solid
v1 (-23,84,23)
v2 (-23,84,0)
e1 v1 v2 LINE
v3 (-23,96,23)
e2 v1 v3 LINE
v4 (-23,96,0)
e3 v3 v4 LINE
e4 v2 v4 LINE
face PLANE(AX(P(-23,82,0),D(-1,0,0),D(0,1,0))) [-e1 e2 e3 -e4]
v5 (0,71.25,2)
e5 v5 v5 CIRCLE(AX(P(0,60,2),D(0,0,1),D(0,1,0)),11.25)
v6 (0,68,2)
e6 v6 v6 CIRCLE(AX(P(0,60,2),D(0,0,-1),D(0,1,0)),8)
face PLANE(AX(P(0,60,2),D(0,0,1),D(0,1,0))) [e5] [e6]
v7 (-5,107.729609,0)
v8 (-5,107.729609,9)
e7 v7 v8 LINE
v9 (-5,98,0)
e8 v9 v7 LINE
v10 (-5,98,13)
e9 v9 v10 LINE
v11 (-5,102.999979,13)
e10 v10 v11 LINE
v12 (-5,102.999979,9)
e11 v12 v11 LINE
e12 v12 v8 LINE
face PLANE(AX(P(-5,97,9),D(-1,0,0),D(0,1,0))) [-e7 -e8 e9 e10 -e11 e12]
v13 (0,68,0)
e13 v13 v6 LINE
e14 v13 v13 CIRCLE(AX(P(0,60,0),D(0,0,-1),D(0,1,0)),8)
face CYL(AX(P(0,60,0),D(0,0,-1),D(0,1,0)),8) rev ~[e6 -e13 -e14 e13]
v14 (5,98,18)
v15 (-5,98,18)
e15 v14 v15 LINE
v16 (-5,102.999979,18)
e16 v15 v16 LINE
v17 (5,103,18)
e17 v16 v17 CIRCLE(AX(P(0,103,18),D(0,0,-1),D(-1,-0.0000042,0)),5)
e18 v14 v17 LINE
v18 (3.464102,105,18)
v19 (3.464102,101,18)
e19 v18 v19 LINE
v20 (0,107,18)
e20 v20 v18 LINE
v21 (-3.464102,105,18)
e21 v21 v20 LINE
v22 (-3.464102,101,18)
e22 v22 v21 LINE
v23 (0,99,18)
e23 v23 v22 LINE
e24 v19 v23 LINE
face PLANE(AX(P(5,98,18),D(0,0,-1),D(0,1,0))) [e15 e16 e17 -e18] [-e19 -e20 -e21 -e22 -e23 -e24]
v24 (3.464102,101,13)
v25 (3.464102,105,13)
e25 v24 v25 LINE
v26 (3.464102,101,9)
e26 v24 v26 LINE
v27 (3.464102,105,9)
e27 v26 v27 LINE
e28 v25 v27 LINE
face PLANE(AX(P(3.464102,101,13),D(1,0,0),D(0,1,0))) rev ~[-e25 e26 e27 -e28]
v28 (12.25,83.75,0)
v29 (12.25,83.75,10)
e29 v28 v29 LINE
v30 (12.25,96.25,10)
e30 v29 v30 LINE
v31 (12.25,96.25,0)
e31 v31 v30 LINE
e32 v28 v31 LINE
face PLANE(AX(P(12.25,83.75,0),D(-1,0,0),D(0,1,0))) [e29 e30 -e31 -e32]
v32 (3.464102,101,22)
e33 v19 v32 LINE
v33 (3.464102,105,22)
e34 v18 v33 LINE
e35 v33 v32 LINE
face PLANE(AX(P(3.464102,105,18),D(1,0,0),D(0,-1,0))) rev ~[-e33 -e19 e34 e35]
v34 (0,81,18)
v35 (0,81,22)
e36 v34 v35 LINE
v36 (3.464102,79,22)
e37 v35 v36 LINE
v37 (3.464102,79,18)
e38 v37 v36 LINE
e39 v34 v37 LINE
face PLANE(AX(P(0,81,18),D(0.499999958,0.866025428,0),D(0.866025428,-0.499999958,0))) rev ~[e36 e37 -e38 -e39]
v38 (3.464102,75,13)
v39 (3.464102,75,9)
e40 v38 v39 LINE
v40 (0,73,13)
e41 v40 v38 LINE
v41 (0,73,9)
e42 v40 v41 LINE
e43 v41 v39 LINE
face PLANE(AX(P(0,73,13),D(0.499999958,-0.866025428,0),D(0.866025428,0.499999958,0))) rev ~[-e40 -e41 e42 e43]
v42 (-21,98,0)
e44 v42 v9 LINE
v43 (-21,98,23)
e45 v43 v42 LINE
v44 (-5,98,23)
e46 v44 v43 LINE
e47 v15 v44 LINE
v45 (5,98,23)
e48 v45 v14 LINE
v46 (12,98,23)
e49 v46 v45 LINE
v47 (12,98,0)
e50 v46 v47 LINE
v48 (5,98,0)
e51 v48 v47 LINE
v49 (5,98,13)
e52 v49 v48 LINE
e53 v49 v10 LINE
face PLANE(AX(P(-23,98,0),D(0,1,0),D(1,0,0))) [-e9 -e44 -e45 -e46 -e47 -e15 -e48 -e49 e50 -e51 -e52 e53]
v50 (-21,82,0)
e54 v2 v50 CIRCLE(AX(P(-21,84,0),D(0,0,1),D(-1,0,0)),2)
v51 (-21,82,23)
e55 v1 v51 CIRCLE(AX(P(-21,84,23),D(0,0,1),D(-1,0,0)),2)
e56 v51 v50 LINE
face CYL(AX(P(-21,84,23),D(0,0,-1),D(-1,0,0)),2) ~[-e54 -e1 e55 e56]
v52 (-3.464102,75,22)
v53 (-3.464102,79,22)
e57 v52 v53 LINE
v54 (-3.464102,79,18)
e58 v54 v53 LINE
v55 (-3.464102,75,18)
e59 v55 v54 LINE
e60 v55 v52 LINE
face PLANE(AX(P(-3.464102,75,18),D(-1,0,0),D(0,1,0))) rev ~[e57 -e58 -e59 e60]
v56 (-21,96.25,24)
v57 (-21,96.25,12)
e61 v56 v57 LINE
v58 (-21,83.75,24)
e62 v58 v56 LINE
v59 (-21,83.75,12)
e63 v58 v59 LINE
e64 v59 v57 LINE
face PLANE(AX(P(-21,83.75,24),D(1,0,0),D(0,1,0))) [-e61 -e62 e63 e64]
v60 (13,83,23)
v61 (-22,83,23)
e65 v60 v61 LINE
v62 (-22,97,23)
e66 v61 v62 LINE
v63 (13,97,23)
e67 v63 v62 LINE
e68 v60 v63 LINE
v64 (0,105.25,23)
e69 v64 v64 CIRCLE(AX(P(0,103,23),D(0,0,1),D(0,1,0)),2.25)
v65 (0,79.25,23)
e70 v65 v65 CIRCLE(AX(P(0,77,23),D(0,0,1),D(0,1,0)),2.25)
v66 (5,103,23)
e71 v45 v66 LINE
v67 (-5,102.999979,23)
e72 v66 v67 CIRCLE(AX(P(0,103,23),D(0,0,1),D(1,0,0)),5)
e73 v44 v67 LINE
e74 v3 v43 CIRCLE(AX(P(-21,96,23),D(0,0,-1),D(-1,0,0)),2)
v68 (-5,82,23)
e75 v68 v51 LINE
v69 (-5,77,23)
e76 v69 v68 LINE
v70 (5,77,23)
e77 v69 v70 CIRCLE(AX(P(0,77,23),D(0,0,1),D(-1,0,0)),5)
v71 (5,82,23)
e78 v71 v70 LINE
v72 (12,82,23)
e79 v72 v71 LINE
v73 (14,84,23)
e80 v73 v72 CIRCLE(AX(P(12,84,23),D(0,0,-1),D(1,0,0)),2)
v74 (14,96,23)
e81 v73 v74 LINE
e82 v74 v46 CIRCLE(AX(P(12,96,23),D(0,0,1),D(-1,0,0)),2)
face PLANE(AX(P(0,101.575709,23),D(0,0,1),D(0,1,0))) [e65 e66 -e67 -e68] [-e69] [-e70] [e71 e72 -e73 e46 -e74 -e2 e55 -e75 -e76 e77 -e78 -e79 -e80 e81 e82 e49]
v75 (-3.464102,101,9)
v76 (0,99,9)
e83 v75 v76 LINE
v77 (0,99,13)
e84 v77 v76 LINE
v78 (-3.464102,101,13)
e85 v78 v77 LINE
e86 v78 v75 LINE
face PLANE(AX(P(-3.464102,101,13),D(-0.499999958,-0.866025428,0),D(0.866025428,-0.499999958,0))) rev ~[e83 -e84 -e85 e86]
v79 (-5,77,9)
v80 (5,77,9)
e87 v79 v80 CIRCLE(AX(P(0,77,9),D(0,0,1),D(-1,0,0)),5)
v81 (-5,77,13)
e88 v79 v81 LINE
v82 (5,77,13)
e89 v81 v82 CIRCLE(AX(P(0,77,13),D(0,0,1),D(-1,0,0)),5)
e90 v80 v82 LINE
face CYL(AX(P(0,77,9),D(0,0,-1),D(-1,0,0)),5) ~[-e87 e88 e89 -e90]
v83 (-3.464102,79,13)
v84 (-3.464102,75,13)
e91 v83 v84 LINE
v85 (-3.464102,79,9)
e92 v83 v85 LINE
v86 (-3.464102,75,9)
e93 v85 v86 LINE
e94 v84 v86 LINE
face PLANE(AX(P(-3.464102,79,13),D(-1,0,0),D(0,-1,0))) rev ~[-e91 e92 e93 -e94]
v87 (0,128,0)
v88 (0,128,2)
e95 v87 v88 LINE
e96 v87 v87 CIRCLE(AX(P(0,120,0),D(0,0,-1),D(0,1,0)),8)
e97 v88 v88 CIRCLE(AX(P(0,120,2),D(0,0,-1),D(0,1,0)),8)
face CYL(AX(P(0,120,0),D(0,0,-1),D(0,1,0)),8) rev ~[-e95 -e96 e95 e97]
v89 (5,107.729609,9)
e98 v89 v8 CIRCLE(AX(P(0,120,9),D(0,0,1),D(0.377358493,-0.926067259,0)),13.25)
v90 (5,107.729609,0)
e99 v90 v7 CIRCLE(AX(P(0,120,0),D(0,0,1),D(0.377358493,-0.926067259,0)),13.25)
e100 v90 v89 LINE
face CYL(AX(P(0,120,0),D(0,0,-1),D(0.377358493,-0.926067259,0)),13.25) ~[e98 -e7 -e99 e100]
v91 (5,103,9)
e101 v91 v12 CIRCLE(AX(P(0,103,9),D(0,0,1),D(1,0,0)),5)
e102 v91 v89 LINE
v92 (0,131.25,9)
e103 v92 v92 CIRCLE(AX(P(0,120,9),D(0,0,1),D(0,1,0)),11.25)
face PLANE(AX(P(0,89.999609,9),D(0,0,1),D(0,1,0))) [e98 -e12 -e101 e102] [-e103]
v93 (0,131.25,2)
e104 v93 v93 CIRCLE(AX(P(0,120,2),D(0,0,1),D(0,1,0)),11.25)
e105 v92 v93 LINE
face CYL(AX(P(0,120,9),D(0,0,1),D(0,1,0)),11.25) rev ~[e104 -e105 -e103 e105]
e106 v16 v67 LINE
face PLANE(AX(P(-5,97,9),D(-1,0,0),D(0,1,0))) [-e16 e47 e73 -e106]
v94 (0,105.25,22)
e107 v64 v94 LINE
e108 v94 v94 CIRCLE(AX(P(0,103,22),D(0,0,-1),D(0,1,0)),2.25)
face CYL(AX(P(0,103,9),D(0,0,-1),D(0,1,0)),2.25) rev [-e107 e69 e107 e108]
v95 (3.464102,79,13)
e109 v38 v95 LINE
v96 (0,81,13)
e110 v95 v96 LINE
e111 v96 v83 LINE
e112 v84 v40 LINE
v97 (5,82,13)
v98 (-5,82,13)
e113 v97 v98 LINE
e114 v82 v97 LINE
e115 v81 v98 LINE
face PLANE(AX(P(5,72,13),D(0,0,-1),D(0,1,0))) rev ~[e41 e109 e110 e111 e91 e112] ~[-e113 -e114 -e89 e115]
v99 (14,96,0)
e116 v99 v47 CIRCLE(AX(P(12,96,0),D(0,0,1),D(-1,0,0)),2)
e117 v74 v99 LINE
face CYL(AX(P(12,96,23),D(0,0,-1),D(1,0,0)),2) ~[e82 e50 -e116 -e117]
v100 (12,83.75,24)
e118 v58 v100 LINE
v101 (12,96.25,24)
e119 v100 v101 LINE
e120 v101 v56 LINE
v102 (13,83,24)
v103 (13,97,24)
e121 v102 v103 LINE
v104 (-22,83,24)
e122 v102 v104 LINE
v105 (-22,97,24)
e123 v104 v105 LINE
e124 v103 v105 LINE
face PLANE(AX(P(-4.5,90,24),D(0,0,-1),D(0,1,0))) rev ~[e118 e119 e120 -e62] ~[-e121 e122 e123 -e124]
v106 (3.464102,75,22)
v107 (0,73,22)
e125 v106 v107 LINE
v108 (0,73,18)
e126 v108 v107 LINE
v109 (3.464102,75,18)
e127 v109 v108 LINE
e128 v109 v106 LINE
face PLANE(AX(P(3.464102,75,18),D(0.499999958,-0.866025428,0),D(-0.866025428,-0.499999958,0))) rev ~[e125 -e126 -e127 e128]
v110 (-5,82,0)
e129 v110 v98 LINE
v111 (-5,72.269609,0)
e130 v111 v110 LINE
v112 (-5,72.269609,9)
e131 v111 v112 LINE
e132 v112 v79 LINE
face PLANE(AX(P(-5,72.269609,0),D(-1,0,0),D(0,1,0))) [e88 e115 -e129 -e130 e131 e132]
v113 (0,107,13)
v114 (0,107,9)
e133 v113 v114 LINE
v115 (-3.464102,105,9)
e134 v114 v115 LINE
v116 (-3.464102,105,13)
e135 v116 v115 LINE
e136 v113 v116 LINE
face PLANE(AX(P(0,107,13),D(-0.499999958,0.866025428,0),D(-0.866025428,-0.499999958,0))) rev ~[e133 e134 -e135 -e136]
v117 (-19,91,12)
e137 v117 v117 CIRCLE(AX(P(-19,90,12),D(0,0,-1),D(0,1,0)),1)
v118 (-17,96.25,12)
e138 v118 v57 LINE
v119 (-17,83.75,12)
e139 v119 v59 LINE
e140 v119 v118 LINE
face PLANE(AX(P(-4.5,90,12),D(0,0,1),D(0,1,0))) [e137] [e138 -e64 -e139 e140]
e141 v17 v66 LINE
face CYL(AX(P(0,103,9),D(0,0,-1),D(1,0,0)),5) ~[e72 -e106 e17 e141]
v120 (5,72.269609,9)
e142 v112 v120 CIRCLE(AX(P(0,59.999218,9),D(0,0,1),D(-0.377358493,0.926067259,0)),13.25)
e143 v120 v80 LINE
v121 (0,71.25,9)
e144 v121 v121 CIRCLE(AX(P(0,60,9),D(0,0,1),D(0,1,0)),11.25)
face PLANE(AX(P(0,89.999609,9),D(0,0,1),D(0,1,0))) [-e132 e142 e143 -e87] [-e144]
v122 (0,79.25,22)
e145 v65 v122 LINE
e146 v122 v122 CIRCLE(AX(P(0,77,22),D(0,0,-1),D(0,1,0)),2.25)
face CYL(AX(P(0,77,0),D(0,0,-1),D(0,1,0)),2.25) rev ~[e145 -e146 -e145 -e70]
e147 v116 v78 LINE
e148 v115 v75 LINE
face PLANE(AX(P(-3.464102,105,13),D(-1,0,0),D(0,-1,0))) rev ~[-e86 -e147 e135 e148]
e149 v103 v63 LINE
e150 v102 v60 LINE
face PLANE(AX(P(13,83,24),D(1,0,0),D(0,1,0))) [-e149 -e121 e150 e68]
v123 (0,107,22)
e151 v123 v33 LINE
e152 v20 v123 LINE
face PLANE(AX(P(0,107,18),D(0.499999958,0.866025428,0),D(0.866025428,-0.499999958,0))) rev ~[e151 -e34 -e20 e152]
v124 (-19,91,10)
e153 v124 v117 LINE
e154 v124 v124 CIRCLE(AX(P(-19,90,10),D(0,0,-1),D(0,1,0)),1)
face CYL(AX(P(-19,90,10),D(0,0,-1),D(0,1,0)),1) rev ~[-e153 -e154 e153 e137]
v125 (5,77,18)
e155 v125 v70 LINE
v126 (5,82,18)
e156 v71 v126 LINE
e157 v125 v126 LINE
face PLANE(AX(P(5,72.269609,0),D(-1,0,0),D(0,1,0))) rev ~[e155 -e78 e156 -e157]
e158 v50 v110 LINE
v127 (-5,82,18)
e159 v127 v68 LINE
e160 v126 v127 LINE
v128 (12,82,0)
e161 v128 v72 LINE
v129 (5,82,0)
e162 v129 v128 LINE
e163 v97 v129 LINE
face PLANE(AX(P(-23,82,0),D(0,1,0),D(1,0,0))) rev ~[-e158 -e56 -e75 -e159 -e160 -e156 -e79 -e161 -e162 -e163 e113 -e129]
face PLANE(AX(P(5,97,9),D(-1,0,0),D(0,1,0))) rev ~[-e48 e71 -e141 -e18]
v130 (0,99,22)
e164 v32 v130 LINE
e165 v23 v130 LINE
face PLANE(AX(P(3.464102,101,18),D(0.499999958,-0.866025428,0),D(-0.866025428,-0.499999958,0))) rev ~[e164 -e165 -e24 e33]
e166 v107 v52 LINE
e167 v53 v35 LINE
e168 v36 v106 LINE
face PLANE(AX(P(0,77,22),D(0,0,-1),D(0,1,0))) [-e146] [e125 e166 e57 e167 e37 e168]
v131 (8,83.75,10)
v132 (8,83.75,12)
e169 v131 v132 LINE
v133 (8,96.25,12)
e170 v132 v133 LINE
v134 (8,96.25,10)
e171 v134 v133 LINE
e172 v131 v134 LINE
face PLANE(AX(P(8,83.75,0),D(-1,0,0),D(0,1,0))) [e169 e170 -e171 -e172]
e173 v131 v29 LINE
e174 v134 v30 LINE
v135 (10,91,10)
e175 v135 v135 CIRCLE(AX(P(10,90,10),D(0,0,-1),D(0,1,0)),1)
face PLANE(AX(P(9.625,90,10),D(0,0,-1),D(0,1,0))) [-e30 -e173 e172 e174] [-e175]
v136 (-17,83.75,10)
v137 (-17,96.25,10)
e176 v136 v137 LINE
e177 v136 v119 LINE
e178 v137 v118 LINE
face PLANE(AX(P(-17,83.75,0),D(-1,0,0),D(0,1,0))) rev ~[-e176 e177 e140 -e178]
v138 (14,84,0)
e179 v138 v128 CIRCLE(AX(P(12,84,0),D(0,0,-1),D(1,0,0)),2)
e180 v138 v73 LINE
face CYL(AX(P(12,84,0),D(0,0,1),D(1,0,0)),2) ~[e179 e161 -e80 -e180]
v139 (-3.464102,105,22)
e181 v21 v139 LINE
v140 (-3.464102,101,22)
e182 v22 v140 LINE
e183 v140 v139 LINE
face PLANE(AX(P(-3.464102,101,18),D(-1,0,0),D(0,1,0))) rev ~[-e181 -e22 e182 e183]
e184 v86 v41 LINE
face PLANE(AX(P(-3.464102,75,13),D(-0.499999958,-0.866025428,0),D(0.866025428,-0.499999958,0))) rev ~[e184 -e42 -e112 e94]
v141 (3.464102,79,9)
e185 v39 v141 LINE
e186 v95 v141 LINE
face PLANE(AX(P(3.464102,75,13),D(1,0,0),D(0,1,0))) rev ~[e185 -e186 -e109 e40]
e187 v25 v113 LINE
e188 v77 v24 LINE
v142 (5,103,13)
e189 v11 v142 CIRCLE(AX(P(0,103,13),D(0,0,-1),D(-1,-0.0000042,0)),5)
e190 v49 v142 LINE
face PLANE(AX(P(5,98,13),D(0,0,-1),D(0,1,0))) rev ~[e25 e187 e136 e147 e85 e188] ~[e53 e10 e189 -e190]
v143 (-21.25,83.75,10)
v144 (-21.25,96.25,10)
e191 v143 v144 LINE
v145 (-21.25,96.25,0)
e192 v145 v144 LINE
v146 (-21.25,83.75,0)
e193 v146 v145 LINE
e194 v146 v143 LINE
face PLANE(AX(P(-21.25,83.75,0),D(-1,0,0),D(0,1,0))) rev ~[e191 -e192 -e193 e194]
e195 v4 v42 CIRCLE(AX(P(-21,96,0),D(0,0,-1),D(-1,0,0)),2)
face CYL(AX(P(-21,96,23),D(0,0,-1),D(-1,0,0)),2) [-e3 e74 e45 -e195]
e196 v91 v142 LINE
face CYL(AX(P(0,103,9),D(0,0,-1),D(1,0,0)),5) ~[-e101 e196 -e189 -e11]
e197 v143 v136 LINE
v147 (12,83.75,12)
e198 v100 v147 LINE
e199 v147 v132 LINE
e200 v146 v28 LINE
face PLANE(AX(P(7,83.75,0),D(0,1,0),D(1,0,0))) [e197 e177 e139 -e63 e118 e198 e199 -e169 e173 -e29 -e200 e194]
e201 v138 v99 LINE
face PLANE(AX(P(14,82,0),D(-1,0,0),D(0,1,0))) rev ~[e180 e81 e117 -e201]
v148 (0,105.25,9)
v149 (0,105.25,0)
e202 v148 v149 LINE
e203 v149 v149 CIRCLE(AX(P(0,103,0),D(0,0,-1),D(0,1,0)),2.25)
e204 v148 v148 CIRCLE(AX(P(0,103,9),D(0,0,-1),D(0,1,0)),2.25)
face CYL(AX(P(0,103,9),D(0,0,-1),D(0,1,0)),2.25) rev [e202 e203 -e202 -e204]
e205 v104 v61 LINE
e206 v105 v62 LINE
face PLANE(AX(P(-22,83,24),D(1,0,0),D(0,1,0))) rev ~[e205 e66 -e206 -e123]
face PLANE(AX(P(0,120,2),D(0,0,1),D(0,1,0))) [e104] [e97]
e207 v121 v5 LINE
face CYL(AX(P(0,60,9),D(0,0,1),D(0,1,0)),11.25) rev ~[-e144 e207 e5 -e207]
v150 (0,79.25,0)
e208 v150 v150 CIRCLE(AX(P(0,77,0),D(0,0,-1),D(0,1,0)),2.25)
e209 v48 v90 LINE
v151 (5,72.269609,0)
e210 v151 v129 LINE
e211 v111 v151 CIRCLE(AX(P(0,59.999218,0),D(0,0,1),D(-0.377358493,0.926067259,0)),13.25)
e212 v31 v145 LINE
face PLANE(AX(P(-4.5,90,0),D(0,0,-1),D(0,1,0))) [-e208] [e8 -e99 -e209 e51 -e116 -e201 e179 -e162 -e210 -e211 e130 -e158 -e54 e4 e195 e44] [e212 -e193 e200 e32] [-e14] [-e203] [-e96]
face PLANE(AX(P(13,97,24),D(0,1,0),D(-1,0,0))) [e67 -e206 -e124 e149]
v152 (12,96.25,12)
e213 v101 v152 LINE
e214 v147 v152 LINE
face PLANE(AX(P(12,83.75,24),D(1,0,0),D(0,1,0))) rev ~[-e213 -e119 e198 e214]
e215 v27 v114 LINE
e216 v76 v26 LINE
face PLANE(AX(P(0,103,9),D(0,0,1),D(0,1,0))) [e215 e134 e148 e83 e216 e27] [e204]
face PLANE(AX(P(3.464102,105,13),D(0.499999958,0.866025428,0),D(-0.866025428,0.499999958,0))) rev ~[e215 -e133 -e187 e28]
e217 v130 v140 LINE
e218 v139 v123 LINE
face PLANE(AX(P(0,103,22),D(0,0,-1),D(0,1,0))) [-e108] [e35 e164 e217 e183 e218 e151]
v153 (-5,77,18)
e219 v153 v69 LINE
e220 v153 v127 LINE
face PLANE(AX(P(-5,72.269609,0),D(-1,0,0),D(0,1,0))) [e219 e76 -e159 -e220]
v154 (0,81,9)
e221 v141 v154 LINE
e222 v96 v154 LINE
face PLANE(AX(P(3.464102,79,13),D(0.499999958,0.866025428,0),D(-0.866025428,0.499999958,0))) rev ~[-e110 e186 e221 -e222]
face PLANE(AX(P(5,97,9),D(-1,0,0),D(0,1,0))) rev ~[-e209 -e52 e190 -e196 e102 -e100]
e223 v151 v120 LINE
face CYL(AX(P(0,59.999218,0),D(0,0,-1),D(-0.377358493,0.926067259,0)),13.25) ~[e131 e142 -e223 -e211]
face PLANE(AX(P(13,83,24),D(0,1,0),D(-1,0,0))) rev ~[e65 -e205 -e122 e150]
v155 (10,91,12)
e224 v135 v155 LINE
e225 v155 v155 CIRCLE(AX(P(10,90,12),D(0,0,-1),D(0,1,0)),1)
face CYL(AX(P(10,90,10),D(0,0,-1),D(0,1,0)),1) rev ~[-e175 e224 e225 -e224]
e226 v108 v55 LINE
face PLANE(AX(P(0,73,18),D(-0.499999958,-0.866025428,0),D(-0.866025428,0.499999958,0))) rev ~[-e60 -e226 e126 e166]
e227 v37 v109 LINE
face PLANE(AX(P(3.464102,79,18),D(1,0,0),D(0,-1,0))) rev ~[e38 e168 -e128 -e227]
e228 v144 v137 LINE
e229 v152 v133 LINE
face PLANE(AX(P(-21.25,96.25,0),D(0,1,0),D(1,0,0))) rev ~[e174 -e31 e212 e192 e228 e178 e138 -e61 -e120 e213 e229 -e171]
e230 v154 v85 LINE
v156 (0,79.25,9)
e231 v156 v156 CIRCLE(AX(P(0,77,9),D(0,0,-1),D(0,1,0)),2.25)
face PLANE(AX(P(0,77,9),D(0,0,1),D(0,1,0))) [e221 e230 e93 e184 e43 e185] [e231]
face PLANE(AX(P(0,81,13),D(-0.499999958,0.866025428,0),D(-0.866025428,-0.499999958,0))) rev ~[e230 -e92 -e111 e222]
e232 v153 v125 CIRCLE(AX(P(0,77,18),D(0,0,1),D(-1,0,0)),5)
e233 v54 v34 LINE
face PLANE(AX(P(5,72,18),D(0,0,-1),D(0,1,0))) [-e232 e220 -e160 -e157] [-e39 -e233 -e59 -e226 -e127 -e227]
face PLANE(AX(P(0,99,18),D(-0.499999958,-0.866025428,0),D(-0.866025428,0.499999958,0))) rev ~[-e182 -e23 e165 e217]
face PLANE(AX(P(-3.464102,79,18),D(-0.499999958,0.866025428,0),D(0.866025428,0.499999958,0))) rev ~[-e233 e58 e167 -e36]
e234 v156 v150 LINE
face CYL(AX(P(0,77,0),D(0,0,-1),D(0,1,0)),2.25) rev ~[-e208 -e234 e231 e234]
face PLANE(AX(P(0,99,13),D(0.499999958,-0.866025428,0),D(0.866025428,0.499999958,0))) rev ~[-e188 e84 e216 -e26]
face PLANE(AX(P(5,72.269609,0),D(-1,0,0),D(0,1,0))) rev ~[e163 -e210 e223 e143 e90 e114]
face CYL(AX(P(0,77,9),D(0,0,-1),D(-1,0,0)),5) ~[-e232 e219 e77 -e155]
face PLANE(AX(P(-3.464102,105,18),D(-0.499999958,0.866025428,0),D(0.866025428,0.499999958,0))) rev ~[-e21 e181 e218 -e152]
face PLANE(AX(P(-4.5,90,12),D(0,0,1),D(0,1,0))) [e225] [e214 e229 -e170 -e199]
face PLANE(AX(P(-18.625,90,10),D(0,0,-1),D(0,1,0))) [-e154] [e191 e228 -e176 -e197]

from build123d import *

# Parameters (mm, degrees)
PAD013_DEPTH            = 9
SKETCH034_R             = 11.25
POCKET003_DEPTH         = 7
SKETCH035_R             = 8
POCKET004_DEPTH         = 5
SKETCH040_W             = 16
SKETCH040_H             = 37
PAD016_DEPTH            = 24
SKETCH042_W             = 16
SKETCH042_H             = 7
PAD017_DEPTH            = 12
SKETCH043_W             = 12.5
SKETCH043_H             = 5.25
POCKET008_DEPTH         = 10
SKETCH044_R             = 1
POCKET009_DEPTH         = 4
POCKET009_DEPTH_BACK    = 5
SKETCH045_W             = 12.5
SKETCH045_H             = 25
POCKET010_DEPTH         = 50
SKETCH071_R             = 2.25
PAD027_DEPTH            = 14
SKETCH072_R             = 2.25
POCKET026_DEPTH         = 10
SKETCH073_W             = 16
SKETCH073_H             = 37
SKETCH073_W_2           = 14
SKETCH073_H_2           = 35
POCKET035_DEPTH         = 1
SKETCH084_W             = 10
SKETCH084_H             = 5
POCKET036_DEPTH         = 10
POCKET037_DEPTH         = 4
POCKET038_DEPTH         = 4
SKETCH133_W             = 12.5
SKETCH133_H             = 33
POCKET053_DEPTH         = 12
FILLET_R                = 2
BODY004_PLACEMENT_ANGLE = 90


with BuildPart() as part:
    # Sketch033 → Pad013 (new body)
    with BuildSketch(Plane.XY):
        with BuildLine():
            ThreePointArc((12.269609, 5), (-13.250782, 0), (12.269609, -5))
            Line((12.269609, -5), (47.729609, -5))
            ThreePointArc((47.729609, -5), (73.25, 0), (47.729609, 5))
            Line((12.269609, 5), (47.729609, 5))
        make_face()
    extrude(amount=PAD013_DEPTH)

    # Sketch034 (on Face6 of Pad013) → Pocket003 (cut)
    with BuildSketch(Plane.XY.offset(9)):
        Circle(SKETCH034_R)
        with Locations((60, 0)):
            Circle(SKETCH034_R)
    extrude(amount=-POCKET003_DEPTH, mode=Mode.SUBTRACT)

    # Sketch035 (on Face4 of Pocket003) → Pocket004 (cut)
    with BuildSketch(Plane(origin=(0, 0, 0), x_dir=(1, 0, 0), z_dir=(0, 0, -1))):
        Circle(SKETCH035_R)
        with Locations((60, 0)):
            Circle(SKETCH035_R)
    extrude(amount=-POCKET004_DEPTH, mode=Mode.SUBTRACT)

    # Sketch040 (on Face4 of Pocket004) → Pad016 (join)
    with BuildSketch(Plane(origin=(0, 0, 0), x_dir=(1, 0, 0), z_dir=(0, 0, -1))):
        with Locations((30, -4.5)):
            Rectangle(SKETCH040_W, SKETCH040_H)
    extrude(amount=-PAD016_DEPTH)

    # Sketch042 → Pad017 (join)
    with BuildSketch(Plane(origin=(0, 0, 0), x_dir=(1, 0, 0), z_dir=(0, 0, -1))):
        with Locations((30, -19.5)):
            Rectangle(SKETCH042_W, SKETCH042_H)
        with Locations((30, 10.5)):
            Rectangle(SKETCH042_W, SKETCH042_H)
    extrude(amount=-PAD017_DEPTH)

    # Sketch043 (on Face4 of Pad017) → Pocket008 (cut)
    with BuildSketch(Plane(origin=(0, 0, 0), x_dir=(1, 0, 0), z_dir=(0, 0, -1))):
        with Locations((30, 9.625)):
            Rectangle(SKETCH043_W, SKETCH043_H)
        with Locations((30, -18.625)):
            Rectangle(SKETCH043_W, SKETCH043_H)
    extrude(amount=-POCKET008_DEPTH, mode=Mode.SUBTRACT)

    # Sketch044 (on Face40 of Pocket008) → Pocket009 (cut, two sides)
    with BuildSketch(Plane(origin=(0, 0, 10), x_dir=(1, 0, 0), z_dir=(0, 0, -1))) as pocket009_sk:
        with Locations((30, -19)):
            Circle(SKETCH044_R)
        with Locations((30, 10)):
            Circle(SKETCH044_R)
    extrude(amount=-POCKET009_DEPTH, mode=Mode.SUBTRACT)
    extrude(pocket009_sk.sketch, amount=POCKET009_DEPTH_BACK, mode=Mode.SUBTRACT)

    # Sketch045 (on Face17 of Pocket009) → Pocket010 (cut)
    with BuildSketch(Plane(origin=(0, 0, 0), x_dir=(1, 0, 0), z_dir=(0, 0, -1))):
        with Locations((30, -4.5)):
            Rectangle(SKETCH045_W, SKETCH045_H)
    extrude(amount=-POCKET010_DEPTH, mode=Mode.SUBTRACT)

    # Sketch071 → Pad027 (join)
    with BuildSketch(Plane.XY.offset(9)):
        with BuildLine():
            ThreePointArc((43, -5), (48, 1e-05), (42.999979, 5))
            Line((37, 5), (42.999979, 5))
            Line((37, 5), (37, -5))
            Line((37, -5), (43, -5))
        make_face()
        with Locations((43, 0)):
            Circle(SKETCH071_R, mode=Mode.SUBTRACT)
        with BuildLine():
            ThreePointArc((17, 5), (12, 0), (17, -5))
            Line((23, -5), (17, -5))
            Line((23, 5), (23, -5))
            Line((17, 5), (23, 5))
        make_face()
        with Locations((17, 0)):
            Circle(SKETCH071_R, mode=Mode.SUBTRACT)
    extrude(amount=PAD027_DEPTH)

    # Sketch072 (on Face4 of Pad027) → Pocket026 (cut)
    with BuildSketch(Plane(origin=(0, 0, 0), x_dir=(1, 0, 0), z_dir=(0, 0, -1))):
        with Locations((17, 0)):
            Circle(SKETCH072_R)
        with Locations((43, 0)):
            Circle(SKETCH072_R)
    extrude(amount=-POCKET026_DEPTH, mode=Mode.SUBTRACT)

    # Sketch073 (on Face19 of Pocket026) → Pocket035 (cut)
    with BuildSketch(Plane.XY.offset(24)):
        with Locations((30, 4.5)):
            Rectangle(SKETCH073_W, SKETCH073_H)
        with Locations((30, 4.5)):
            Rectangle(SKETCH073_W_2, SKETCH073_H_2, mode=Mode.SUBTRACT)
    extrude(amount=-POCKET035_DEPTH, mode=Mode.SUBTRACT)

    # Sketch084 (on Face9 of Pocket035) → Pocket036 (cut)
    with BuildSketch(Plane.XZ.offset(5)):
        with Locations((17, 15.5)):
            Rectangle(SKETCH084_W, SKETCH084_H)
        with Locations((43, 15.5)):
            Rectangle(SKETCH084_W, SKETCH084_H)
    extrude(amount=-POCKET036_DEPTH, mode=Mode.SUBTRACT)

    # Sketch085 (on Face21 of Pocket036) → Pocket037 (cut)
    with BuildSketch(Plane.XY.offset(13)):
        Polygon((13, 0), (15, -3.464102), (19, -3.464102), (21, 0), (19, 3.464102), (15, 3.464102), align=None)
        Polygon((39, 0), (41, -3.464102), (45, -3.464102), (47, 0), (45, 3.464102), (41, 3.464102), align=None)
    extrude(amount=-POCKET037_DEPTH, mode=Mode.SUBTRACT)

    # Sketch086 (on Face30 of Pocket037) → Pocket038 (cut)
    with BuildSketch(Plane(origin=(0, 0, 18), x_dir=(1, 0, 0), z_dir=(0, 0, -1))):
        Polygon((13, 0), (15, -3.464102), (19, -3.464102), (21, 0), (19, 3.464102), (15, 3.464102), align=None)
        Polygon((39, 0), (41, -3.464102), (45, -3.464102), (47, 0), (45, 3.464102), (41, 3.464102), align=None)
    extrude(amount=-POCKET038_DEPTH, mode=Mode.SUBTRACT)

    # Sketch133 (on Face52 of Pocket038) → Pocket053 (cut)
    with BuildSketch(Plane.XY.offset(24)):
        with Locations((30, 4.5)):
            Rectangle(SKETCH133_W, SKETCH133_H)
    extrude(amount=-POCKET053_DEPTH, mode=Mode.SUBTRACT)

    # Fillet
    fillet_edges = [part.edges().sort_by_distance(p)[0] for p in [
        (38, -14, 6),
        (38, -14, 17.5),
        (22, -14, 17.5),
        (22, -14, 6),
        (22, 23, 17.5),
        (22, 23, 6),
        (38, 23, 6),
        (38, 23, 17.5),
    ]]
    fillet(fillet_edges, radius=FILLET_R)


with BuildPart() as part_1:
    # Body004 placement: moved
    add(part.part.moved(Location((0, 60, 0))).rotate(Axis((0, 60, 0), (0, 0, 1)), BODY004_PLACEMENT_ANGLE))


solid = part_1.part
